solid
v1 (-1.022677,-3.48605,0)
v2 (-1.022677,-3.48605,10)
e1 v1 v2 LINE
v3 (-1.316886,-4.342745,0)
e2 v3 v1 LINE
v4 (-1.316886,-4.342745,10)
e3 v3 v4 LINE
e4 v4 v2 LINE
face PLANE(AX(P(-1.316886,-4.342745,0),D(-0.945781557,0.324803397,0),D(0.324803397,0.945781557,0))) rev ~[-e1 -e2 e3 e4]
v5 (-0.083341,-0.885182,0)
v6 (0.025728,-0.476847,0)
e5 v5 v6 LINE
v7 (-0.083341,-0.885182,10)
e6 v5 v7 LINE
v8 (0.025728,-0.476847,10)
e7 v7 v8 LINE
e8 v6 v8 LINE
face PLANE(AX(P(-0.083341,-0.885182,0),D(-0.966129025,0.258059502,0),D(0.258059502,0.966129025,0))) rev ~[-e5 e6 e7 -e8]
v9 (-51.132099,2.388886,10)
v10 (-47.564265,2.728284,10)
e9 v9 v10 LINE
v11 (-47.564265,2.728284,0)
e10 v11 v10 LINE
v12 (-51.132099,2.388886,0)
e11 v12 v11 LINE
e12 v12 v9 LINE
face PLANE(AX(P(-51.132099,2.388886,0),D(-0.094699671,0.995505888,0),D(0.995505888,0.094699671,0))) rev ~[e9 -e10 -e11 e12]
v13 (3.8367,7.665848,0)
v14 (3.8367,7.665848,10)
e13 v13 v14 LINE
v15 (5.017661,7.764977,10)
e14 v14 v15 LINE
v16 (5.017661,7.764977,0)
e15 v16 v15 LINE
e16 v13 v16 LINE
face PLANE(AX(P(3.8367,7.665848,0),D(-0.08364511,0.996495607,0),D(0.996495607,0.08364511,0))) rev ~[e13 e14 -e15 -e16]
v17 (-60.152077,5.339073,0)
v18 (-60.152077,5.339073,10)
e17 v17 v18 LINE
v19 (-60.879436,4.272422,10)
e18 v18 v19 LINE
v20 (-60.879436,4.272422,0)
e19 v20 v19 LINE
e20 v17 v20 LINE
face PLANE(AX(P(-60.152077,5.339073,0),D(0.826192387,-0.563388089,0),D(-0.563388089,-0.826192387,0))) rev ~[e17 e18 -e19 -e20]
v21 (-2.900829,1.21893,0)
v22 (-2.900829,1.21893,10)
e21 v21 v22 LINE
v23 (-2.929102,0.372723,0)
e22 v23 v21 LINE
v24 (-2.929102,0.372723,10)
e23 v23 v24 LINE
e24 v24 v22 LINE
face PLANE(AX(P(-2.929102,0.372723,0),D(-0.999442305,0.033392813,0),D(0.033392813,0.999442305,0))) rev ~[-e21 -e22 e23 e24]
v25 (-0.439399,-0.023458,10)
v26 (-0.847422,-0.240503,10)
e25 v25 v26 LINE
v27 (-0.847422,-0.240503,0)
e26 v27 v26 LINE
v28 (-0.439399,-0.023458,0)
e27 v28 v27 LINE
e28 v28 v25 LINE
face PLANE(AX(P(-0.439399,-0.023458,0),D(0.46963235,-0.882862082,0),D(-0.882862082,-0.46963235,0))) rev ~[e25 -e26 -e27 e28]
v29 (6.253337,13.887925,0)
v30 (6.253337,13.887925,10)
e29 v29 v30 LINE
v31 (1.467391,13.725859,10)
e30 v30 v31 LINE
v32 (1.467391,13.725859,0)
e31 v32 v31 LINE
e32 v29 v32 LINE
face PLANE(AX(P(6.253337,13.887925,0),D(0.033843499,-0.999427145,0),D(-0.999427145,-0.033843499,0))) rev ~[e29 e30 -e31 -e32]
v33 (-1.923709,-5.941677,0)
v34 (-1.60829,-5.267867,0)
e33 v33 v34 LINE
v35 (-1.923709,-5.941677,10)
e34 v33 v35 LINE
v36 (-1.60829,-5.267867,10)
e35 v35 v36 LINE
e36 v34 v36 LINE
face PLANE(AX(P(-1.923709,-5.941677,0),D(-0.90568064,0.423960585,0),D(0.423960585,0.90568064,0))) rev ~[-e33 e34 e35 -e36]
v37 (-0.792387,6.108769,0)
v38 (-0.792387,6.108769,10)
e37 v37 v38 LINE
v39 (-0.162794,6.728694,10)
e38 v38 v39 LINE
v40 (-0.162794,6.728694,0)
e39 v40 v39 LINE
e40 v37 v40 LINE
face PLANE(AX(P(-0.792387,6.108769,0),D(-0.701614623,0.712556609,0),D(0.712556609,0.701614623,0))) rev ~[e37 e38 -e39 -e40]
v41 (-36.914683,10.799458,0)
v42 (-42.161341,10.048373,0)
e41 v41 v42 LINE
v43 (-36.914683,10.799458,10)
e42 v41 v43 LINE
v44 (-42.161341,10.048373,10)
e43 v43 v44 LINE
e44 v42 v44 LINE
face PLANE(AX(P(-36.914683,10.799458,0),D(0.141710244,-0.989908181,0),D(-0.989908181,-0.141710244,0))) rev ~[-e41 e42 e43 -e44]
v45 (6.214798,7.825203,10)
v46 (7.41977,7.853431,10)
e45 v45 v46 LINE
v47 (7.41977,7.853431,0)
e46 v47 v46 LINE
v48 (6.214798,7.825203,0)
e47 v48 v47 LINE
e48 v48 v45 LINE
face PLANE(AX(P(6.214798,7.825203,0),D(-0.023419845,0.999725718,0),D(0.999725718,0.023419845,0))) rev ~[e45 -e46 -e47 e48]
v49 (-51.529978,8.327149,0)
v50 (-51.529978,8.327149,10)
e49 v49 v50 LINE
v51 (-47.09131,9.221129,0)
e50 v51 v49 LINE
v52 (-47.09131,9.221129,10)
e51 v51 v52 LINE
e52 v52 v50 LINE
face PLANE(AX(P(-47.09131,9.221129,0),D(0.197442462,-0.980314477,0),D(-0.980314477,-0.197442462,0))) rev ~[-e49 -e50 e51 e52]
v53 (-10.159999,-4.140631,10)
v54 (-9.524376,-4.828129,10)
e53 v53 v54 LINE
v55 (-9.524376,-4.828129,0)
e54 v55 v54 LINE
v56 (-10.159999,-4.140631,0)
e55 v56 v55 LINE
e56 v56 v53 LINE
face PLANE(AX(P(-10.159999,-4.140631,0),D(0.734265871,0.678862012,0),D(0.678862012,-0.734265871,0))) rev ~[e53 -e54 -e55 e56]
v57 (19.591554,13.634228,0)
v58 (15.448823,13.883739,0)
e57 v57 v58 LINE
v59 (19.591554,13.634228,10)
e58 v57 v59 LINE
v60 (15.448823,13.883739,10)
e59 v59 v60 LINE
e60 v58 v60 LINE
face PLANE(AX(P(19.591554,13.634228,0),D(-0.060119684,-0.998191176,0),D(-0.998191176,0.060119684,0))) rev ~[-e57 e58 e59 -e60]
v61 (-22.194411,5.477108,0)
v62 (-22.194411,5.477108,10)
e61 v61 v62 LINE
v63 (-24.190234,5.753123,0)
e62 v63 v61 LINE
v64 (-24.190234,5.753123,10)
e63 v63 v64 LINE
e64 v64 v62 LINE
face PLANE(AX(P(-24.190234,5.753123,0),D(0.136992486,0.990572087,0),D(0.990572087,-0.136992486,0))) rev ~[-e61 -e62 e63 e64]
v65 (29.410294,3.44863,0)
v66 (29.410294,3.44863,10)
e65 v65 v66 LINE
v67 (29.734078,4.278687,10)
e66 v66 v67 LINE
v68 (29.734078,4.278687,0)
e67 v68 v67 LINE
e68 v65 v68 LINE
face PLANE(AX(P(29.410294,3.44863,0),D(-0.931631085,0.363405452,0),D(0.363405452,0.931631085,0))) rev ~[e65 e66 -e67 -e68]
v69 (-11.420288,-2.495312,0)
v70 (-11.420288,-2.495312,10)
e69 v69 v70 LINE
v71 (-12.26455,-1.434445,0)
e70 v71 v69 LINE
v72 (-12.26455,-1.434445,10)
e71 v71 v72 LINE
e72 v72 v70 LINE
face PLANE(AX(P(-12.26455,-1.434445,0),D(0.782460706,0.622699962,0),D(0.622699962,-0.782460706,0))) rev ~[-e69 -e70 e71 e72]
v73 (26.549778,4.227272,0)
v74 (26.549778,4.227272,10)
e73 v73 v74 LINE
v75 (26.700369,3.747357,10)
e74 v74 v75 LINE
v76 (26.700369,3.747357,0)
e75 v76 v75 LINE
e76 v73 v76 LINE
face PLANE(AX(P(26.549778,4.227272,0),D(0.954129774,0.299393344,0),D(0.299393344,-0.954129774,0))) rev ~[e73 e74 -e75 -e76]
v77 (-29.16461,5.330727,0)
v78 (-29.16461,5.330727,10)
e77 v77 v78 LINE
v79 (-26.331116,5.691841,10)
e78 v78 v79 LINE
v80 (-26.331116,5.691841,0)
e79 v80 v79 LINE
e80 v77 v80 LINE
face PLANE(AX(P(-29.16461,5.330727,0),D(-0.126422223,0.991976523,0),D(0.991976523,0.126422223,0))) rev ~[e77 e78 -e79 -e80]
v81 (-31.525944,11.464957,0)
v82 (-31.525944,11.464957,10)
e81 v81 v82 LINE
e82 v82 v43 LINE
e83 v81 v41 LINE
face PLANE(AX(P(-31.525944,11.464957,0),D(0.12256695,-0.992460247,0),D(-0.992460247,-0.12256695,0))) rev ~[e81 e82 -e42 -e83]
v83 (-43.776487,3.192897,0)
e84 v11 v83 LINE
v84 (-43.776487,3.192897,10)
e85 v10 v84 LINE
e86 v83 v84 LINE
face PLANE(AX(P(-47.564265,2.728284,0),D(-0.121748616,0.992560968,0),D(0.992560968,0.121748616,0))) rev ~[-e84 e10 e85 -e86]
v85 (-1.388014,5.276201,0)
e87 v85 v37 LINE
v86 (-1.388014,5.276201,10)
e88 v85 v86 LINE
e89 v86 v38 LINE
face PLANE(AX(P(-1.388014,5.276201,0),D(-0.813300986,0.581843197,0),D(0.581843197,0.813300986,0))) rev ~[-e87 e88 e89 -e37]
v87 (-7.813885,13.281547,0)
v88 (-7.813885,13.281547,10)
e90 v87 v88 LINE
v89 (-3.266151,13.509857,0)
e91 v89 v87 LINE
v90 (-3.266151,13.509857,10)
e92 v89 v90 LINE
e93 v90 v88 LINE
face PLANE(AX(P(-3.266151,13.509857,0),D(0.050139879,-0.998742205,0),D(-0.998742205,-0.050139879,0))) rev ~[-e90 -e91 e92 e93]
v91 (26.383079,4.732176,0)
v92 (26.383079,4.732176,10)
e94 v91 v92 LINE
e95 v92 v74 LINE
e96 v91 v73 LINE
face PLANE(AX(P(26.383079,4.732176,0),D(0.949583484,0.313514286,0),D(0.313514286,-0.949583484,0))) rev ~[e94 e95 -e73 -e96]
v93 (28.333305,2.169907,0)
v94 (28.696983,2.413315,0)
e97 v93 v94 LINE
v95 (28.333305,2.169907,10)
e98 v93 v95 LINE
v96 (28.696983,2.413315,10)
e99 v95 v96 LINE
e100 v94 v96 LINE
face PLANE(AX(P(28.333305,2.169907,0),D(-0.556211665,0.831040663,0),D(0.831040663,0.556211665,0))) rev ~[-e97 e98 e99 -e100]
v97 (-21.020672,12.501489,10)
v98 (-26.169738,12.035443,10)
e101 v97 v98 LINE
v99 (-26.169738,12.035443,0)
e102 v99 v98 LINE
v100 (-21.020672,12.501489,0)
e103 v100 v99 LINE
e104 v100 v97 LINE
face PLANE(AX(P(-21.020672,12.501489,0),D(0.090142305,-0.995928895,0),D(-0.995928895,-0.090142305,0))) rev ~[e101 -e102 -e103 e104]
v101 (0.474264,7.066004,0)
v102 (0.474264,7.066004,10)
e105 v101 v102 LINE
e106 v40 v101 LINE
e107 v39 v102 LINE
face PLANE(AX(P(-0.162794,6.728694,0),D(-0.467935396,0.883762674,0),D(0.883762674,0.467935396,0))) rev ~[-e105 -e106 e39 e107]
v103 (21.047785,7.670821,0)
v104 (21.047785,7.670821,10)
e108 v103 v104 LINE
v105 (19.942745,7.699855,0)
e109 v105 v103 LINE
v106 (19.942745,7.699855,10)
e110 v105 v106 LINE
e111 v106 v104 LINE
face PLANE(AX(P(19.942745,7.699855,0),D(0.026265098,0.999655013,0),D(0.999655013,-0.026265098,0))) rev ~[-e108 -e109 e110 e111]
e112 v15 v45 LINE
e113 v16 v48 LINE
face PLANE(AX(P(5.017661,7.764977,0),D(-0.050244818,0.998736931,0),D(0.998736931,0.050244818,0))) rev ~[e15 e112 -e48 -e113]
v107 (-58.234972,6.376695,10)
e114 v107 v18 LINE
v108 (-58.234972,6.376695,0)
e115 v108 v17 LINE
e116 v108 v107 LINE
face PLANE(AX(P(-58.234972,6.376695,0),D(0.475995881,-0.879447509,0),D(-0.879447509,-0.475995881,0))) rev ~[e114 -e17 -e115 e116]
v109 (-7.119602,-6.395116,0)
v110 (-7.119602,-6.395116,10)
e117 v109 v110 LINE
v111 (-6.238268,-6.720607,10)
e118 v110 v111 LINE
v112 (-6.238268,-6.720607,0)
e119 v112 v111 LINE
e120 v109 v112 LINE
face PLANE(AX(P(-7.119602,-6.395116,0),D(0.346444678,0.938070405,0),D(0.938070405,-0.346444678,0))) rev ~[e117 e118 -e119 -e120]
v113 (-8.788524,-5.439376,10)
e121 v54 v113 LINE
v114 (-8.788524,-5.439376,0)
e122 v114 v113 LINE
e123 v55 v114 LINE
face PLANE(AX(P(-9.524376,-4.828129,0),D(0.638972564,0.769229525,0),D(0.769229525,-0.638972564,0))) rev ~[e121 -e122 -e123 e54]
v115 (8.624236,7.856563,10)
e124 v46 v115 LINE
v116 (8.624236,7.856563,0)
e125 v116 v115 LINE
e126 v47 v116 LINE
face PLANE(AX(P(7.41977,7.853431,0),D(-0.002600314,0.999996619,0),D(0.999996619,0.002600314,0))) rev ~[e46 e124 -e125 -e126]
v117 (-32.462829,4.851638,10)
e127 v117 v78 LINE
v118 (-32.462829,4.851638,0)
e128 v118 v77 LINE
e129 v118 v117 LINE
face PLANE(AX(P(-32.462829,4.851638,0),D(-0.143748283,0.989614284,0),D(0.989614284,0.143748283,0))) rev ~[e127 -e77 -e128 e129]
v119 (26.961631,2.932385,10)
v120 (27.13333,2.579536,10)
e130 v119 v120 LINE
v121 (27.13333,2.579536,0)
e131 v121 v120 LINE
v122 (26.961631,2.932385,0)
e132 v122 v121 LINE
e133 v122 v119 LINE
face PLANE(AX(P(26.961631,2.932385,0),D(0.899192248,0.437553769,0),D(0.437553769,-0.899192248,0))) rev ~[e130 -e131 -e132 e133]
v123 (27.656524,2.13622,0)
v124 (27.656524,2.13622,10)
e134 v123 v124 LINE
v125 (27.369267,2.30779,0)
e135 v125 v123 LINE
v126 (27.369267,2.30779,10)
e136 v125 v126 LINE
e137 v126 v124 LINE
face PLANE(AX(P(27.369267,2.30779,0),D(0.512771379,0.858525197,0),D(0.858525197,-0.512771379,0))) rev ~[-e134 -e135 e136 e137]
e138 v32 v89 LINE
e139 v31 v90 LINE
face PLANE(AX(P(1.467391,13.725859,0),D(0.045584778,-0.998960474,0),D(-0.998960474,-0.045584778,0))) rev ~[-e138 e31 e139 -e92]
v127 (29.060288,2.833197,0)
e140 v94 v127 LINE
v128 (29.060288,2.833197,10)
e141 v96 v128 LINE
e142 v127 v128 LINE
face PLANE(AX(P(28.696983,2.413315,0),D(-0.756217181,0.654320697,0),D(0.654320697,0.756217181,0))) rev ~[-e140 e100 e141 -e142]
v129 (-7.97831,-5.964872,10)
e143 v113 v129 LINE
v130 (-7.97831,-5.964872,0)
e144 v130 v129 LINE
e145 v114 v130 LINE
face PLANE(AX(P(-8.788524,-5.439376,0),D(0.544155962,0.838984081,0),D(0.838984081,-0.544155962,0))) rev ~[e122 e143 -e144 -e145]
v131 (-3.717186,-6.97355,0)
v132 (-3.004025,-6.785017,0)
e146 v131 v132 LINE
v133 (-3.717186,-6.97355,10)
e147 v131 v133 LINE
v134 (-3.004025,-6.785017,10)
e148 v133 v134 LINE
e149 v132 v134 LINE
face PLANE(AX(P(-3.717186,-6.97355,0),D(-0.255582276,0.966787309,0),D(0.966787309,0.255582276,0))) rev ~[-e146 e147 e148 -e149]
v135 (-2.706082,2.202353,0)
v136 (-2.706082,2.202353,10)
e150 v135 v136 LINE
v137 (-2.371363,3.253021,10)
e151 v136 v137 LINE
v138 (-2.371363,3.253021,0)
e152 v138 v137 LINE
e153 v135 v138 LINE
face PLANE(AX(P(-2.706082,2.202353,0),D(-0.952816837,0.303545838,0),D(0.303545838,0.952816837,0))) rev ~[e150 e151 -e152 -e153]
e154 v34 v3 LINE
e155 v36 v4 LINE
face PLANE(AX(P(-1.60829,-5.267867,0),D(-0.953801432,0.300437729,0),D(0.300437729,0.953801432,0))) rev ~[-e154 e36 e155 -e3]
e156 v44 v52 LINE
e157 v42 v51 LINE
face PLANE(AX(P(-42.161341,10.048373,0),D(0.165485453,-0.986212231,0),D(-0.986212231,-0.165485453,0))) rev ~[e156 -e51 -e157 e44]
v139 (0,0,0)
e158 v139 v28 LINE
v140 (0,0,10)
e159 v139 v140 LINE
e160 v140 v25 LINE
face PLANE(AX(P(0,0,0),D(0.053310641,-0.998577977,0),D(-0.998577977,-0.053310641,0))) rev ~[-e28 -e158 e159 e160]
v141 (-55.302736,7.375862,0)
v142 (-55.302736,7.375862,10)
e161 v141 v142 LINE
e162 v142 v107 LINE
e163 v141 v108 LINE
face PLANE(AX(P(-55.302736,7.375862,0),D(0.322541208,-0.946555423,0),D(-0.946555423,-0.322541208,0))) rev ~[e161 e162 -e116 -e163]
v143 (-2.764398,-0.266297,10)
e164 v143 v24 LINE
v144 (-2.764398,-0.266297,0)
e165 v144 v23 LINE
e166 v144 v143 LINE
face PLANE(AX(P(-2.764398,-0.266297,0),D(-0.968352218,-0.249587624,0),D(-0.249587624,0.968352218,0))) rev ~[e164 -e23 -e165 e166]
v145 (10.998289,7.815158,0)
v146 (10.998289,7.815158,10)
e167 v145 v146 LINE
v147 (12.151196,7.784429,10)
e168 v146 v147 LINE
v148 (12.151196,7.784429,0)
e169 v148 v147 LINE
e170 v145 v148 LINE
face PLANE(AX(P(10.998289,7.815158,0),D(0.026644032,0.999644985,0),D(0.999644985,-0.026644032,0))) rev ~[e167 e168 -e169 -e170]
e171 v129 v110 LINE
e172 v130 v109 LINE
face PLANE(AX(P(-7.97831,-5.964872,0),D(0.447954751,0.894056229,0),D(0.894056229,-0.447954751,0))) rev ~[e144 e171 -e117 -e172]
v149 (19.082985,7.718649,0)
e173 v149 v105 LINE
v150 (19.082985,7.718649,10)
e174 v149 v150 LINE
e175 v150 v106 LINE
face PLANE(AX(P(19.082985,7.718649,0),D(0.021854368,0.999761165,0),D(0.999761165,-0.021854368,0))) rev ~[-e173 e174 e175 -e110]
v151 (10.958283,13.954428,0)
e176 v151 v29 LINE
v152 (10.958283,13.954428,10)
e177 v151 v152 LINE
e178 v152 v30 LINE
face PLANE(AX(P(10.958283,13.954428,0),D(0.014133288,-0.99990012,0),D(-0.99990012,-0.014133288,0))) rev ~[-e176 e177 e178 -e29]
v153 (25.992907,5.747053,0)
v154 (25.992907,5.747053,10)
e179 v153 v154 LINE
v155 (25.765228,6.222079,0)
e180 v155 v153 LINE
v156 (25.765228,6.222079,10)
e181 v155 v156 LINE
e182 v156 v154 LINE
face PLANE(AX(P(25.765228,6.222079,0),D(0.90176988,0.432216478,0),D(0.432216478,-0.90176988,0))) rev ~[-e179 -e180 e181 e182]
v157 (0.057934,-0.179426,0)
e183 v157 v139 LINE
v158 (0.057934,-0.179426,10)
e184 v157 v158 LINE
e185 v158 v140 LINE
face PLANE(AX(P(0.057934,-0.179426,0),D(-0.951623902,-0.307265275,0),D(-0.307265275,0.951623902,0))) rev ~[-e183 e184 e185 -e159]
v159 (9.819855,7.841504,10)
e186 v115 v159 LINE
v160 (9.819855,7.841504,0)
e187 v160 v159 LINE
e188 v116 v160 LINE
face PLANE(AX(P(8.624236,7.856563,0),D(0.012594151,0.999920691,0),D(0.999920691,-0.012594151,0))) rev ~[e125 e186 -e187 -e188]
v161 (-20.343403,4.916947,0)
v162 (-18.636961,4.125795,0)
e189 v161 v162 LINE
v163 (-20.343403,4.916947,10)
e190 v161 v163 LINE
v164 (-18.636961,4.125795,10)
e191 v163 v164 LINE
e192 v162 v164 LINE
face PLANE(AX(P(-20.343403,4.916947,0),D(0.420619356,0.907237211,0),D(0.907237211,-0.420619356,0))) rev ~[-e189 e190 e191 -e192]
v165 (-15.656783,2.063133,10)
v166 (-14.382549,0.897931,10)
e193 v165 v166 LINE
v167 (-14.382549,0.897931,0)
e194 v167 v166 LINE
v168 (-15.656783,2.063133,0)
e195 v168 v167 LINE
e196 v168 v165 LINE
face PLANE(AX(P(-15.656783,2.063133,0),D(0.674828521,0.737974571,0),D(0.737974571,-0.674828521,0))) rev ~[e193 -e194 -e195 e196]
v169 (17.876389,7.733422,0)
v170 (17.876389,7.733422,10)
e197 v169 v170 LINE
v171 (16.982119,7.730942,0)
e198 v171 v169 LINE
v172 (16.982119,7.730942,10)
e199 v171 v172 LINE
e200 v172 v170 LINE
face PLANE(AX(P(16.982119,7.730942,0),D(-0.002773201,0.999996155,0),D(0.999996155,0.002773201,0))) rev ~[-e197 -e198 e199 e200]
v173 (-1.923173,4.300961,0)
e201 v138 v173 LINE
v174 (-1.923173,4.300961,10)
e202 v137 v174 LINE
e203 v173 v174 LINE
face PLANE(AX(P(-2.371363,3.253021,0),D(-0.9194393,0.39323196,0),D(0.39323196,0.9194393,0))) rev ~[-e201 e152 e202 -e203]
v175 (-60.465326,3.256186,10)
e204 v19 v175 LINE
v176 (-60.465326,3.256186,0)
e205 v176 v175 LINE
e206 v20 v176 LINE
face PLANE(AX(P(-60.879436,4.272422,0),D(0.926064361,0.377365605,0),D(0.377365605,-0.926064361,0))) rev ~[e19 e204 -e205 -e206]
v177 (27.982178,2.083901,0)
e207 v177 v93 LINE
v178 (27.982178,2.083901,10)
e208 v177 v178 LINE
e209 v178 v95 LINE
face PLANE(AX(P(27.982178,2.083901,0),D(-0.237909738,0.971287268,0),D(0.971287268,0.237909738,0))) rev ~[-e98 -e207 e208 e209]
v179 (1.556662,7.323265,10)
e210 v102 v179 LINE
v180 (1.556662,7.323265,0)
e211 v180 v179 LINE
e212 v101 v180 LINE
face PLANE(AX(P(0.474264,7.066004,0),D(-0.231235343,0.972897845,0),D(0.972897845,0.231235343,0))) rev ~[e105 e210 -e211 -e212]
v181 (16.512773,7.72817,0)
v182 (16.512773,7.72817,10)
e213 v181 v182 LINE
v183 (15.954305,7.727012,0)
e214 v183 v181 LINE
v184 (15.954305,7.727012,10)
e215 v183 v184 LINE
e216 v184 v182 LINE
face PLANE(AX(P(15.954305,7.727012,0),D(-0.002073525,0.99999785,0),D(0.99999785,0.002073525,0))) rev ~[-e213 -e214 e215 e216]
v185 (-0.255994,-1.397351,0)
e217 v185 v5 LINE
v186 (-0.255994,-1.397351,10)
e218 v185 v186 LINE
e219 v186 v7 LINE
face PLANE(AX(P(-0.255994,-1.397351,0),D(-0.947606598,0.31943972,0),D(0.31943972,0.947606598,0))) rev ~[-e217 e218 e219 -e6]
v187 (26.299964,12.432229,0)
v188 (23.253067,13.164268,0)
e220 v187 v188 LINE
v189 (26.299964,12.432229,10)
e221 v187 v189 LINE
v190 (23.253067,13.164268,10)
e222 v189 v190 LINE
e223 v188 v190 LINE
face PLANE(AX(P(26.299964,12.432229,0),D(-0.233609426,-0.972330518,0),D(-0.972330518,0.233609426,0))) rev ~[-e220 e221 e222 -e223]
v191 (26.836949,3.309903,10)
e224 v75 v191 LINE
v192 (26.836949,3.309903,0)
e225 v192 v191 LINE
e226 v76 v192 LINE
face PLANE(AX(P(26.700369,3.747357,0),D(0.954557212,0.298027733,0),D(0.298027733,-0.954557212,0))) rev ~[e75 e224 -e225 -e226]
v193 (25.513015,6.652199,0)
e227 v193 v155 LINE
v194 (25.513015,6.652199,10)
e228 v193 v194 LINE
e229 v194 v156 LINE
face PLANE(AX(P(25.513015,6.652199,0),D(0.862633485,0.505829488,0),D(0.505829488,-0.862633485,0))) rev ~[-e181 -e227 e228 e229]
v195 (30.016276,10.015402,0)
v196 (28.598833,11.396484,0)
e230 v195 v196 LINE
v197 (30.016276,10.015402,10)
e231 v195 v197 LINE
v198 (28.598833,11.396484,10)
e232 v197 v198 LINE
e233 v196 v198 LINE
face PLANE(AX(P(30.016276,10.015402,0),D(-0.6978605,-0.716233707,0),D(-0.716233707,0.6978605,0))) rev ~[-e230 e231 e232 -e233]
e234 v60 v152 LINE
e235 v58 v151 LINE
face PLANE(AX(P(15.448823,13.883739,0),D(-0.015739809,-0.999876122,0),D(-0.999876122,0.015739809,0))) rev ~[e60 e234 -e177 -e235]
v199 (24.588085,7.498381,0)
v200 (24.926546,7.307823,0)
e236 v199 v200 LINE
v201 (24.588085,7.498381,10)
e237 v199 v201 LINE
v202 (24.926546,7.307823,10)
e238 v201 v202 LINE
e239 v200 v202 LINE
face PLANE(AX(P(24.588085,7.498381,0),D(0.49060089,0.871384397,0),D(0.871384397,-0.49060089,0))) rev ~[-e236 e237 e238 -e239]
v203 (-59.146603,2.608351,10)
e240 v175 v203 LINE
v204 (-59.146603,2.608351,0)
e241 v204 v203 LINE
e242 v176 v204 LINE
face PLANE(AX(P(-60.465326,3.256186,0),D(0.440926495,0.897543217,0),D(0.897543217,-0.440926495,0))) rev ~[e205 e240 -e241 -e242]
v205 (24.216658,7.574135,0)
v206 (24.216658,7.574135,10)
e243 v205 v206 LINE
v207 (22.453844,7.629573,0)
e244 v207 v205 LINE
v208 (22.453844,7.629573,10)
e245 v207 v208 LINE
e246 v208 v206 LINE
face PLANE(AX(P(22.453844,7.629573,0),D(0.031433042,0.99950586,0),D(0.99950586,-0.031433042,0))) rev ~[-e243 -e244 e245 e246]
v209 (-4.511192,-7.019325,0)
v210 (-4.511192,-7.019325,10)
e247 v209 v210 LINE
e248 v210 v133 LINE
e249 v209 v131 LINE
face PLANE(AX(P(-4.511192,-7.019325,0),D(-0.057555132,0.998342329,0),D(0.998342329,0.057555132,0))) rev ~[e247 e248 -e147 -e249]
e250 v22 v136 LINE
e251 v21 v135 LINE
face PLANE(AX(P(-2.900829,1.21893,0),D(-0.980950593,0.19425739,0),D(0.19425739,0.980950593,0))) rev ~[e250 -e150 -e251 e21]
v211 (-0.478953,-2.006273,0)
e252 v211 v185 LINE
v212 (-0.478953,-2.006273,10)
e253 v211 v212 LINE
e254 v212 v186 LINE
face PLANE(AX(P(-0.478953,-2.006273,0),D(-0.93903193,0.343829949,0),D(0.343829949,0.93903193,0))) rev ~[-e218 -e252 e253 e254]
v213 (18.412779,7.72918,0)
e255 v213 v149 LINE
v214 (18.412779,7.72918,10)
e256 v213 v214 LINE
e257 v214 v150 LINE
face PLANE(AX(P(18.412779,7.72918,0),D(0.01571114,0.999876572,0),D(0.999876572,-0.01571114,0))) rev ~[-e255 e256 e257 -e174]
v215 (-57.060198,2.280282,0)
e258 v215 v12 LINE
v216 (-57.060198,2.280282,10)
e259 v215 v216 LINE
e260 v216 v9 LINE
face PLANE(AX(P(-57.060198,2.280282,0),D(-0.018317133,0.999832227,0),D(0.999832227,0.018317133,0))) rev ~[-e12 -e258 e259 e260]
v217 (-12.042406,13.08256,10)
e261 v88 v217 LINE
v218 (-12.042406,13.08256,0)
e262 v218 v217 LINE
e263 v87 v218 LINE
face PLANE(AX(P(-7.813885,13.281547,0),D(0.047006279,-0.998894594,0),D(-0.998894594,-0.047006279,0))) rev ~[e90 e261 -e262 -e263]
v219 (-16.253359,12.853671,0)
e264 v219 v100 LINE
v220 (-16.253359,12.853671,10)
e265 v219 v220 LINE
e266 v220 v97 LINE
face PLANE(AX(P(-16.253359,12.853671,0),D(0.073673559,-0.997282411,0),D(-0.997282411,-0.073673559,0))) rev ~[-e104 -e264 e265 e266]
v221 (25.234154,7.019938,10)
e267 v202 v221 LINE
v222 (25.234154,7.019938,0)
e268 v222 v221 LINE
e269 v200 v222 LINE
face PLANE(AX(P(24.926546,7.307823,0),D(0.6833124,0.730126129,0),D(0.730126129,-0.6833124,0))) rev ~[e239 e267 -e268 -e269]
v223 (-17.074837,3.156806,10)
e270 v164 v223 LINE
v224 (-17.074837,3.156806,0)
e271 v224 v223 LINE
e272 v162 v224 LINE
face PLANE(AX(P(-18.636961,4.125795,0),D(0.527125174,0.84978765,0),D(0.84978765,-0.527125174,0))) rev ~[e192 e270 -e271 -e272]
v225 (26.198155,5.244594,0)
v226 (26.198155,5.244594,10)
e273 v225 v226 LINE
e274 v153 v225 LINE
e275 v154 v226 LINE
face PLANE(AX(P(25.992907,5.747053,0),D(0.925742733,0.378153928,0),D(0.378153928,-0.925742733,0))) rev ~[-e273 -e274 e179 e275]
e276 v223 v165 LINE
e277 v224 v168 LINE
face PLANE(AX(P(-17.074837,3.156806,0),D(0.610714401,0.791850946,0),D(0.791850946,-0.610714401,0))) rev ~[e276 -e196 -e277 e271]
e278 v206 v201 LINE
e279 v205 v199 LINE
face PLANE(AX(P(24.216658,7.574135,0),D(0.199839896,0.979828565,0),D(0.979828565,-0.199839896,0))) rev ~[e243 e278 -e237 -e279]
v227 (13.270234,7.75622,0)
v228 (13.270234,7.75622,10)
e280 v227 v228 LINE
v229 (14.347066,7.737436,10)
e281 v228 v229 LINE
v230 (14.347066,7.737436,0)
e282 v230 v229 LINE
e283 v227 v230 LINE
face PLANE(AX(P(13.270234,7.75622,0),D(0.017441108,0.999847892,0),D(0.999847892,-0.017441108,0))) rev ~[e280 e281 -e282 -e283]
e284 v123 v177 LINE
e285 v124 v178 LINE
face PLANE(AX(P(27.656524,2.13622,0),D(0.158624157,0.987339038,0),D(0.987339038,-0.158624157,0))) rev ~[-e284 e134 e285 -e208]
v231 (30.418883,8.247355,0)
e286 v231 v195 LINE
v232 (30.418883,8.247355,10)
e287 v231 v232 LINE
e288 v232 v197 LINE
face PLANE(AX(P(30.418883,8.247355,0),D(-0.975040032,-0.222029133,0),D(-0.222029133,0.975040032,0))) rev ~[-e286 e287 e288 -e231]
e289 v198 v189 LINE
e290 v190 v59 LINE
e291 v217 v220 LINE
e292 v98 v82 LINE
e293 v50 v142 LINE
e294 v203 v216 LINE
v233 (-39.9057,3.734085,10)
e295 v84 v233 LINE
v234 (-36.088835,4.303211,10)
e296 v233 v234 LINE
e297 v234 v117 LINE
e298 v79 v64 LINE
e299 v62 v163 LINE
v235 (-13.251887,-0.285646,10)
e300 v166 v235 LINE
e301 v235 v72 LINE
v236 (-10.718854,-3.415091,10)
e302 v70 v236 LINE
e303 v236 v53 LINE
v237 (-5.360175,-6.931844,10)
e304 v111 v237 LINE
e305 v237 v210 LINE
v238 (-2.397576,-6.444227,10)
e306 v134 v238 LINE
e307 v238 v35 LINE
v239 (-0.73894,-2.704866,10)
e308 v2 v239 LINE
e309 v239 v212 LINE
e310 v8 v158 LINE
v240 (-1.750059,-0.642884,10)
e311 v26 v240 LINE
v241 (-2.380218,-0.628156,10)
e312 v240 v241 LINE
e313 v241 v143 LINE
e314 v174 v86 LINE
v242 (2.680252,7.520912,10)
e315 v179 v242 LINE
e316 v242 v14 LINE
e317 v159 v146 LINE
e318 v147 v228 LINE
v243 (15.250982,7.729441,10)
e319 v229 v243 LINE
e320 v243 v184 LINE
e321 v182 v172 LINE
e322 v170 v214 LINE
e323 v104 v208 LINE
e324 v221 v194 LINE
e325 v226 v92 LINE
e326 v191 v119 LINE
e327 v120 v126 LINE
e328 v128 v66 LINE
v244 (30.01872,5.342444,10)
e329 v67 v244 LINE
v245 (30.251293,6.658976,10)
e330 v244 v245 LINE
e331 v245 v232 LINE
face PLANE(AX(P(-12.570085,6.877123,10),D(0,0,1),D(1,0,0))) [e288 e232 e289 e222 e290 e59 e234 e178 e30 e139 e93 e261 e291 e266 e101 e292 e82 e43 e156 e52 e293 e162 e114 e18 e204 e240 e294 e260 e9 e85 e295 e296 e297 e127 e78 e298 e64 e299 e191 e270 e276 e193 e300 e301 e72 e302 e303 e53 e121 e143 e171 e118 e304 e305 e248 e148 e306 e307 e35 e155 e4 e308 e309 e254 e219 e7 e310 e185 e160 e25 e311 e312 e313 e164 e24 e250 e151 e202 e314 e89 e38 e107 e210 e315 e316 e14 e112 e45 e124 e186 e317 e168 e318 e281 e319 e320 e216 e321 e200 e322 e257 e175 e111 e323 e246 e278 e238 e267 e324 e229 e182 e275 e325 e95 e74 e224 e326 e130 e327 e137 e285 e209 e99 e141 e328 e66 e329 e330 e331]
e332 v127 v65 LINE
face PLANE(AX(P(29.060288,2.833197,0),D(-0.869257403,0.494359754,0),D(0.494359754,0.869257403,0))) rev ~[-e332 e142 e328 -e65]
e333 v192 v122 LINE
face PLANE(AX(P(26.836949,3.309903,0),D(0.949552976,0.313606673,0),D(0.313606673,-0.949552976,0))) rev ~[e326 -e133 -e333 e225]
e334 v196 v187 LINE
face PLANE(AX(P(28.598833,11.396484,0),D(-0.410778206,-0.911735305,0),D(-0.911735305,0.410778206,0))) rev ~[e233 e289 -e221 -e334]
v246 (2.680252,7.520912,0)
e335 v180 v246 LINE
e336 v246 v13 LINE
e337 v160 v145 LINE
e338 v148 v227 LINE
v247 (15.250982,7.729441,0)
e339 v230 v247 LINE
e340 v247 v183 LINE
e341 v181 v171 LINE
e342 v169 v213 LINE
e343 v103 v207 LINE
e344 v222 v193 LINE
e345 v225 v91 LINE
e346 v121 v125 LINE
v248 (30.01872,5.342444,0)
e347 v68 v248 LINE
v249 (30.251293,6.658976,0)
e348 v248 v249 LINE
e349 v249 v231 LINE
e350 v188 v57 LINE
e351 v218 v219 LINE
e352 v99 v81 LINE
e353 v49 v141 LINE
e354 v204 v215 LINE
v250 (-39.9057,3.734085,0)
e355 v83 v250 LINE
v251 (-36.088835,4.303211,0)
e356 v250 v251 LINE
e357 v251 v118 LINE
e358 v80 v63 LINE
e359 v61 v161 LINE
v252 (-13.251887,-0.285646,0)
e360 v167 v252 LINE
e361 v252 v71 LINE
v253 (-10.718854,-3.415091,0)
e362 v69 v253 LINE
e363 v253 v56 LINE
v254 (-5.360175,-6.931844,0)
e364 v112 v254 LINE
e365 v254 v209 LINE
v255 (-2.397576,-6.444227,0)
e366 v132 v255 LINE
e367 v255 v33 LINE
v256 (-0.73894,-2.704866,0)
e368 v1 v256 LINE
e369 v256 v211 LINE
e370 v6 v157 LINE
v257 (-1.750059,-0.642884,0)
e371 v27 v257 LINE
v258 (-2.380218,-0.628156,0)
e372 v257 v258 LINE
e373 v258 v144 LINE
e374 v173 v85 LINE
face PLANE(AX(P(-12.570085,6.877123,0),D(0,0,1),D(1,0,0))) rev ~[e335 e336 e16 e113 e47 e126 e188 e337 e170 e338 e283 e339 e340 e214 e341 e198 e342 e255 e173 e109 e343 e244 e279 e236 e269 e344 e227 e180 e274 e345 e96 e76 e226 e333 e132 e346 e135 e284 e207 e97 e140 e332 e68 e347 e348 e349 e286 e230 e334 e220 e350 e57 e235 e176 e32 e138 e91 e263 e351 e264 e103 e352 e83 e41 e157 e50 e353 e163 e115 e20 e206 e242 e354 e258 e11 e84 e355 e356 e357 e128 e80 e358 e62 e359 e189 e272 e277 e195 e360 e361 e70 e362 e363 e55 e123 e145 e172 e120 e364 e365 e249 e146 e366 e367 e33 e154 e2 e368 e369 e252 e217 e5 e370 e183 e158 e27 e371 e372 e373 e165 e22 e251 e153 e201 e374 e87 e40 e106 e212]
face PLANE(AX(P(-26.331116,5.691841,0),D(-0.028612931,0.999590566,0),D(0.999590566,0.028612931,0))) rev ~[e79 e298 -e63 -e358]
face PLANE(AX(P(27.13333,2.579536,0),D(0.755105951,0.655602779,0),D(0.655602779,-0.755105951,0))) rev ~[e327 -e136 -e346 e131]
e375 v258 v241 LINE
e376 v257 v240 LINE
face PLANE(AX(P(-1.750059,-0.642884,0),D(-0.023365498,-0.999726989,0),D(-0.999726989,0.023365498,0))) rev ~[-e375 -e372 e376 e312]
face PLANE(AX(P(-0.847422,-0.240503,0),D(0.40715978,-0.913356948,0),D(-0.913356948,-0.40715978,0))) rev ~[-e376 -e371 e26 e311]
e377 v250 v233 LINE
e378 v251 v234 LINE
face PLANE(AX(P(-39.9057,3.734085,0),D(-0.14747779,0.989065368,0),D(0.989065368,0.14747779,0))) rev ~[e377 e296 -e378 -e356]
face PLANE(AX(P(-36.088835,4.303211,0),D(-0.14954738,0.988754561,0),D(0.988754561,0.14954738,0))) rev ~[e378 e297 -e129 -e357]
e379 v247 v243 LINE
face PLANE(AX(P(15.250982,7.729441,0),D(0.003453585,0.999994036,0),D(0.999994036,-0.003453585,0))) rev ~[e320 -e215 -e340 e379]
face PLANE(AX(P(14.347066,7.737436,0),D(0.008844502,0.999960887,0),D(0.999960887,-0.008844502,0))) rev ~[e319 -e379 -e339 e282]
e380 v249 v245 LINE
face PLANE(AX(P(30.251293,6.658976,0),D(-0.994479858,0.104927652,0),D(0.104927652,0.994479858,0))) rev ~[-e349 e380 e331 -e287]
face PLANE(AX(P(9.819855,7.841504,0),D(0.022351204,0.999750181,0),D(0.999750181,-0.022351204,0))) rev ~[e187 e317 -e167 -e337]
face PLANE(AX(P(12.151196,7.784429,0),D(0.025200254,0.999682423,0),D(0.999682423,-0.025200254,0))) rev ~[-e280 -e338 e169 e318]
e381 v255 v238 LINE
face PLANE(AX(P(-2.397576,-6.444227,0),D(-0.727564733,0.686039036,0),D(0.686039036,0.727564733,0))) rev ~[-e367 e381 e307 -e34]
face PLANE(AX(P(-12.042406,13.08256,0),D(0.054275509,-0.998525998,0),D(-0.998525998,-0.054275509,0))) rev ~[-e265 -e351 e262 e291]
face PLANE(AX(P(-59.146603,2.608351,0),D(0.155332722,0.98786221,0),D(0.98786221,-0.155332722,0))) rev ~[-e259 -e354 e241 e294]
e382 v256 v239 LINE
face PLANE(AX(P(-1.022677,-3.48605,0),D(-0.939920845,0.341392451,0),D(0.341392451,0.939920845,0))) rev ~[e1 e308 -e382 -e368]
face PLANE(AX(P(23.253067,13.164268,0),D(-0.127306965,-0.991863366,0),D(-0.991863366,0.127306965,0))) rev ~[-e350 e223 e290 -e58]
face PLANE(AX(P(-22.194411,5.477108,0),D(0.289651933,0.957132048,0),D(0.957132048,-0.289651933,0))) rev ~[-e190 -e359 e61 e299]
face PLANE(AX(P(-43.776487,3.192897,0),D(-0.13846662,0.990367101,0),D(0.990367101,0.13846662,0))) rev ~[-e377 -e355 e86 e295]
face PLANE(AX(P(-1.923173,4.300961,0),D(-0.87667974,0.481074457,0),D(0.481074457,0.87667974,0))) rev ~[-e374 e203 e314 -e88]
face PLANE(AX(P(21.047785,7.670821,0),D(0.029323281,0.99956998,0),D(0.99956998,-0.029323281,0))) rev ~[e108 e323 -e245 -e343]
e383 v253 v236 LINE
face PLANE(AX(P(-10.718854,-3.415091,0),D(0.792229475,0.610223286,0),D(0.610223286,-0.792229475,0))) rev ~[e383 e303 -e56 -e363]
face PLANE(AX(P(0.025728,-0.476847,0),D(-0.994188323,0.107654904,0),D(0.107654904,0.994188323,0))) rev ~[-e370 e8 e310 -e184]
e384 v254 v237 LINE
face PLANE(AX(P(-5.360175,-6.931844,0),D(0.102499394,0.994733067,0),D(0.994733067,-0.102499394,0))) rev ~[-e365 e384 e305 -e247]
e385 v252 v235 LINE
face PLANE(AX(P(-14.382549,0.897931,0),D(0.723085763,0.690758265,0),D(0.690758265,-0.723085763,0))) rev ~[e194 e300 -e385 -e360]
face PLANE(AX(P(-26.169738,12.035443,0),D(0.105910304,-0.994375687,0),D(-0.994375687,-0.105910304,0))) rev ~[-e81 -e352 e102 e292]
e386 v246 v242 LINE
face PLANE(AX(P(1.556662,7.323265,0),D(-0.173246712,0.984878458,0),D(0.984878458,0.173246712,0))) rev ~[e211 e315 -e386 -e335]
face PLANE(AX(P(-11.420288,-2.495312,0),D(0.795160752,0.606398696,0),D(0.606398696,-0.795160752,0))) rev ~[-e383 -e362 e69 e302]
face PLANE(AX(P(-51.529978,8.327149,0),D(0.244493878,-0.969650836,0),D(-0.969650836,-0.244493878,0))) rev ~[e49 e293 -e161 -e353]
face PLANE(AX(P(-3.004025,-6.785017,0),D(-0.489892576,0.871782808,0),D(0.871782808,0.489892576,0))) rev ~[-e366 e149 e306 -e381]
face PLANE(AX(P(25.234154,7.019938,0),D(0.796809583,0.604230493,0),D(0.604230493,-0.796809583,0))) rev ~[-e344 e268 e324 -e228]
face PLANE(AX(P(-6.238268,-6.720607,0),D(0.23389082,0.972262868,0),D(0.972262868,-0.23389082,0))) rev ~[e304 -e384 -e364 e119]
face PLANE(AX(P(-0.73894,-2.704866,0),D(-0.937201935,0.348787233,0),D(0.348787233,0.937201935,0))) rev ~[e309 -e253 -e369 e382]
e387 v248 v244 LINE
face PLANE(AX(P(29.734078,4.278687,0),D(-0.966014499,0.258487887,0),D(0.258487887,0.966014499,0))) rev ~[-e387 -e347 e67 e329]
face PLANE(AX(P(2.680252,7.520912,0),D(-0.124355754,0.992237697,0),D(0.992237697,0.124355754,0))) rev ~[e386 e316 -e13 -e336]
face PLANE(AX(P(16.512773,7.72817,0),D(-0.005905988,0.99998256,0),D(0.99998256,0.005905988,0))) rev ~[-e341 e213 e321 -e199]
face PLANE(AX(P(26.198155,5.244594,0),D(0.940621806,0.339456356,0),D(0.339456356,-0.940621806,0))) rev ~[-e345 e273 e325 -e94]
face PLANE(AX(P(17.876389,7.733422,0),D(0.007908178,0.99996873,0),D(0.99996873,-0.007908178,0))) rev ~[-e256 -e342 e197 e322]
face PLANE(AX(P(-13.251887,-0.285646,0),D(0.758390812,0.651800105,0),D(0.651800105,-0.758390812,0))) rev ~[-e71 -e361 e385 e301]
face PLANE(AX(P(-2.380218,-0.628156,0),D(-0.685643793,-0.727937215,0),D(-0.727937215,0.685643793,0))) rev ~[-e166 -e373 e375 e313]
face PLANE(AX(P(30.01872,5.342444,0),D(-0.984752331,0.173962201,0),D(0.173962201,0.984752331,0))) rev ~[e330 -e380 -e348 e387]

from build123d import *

# Parameters (mm, degrees)
F1_DEPTH = 10


with BuildPart() as f1:
    # F0 (on Top) → F1 (new body)
    with BuildSketch(Plane.XY):
        Polygon((-55.302736, 7.375862), (-58.234972, 6.376695), (-60.152077, 5.339073), (-60.879436, 4.272422), (-60.465326, 3.256186), (-59.146603, 2.608351), (-57.060198, 2.280282), (-51.132099, 2.388886), (-47.564265, 2.728284), (-43.776487, 3.192897), (-39.9057, 3.734085), (-36.088835, 4.303211), (-32.462829, 4.851638), (-29.16461, 5.330727), (-26.331116, 5.691841), (-24.190234, 5.753123), (-22.194411, 5.477108), (-20.343403, 4.916947), (-18.636961, 4.125795), (-17.074837, 3.156806), (-15.656783, 2.063133), (-14.382549, 0.897931), (-13.251887, -0.285646), (-12.26455, -1.434445), (-11.420288, -2.495312), (-10.718854, -3.415091), (-10.159999, -4.140631), (-9.524376, -4.828129), (-8.788524, -5.439376), (-7.97831, -5.964872), (-7.119602, -6.395116), (-6.238268, -6.720607), (-5.360175, -6.931844), (-4.511192, -7.019325), (-3.717186, -6.97355), (-3.004025, -6.785017), (-2.397576, -6.444227), (-1.923709, -5.941677), (-1.60829, -5.267867), (-1.316886, -4.342745), (-1.022677, -3.48605), (-0.73894, -2.704866), (-0.478953, -2.006273), (-0.255994, -1.397351), (-0.083341, -0.885182), (0.025728, -0.476847), (0.057934, -0.179426), (0, 0), (-0.439399, -0.023458), (-0.847422, -0.240503), (-1.750059, -0.642884), (-2.380218, -0.628156), (-2.764398, -0.266297), (-2.929102, 0.372723), (-2.900829, 1.21893), (-2.706082, 2.202353), (-2.371363, 3.253021), (-1.923173, 4.300961), (-1.388014, 5.276201), (-0.792387, 6.108769), (-0.162794, 6.728694), (0.474264, 7.066004), (1.556662, 7.323265), (2.680252, 7.520912), (3.8367, 7.665848), (5.017661, 7.764977), (6.214798, 7.825203), (7.41977, 7.853431), (8.624236, 7.856563), (9.819855, 7.841504), (10.998289, 7.815158), (12.151196, 7.784429), (13.270234, 7.75622), (14.347066, 7.737436), (15.250982, 7.729441), (15.954305, 7.727012), (16.512773, 7.72817), (16.982119, 7.730942), (17.876389, 7.733422), (18.412779, 7.72918), (19.082985, 7.718649), (19.942745, 7.699855), (21.047785, 7.670821), (22.453844, 7.629573), (24.216658, 7.574135), (24.588085, 7.498381), (24.926546, 7.307823), (25.234154, 7.019938), (25.513015, 6.652199), (25.765228, 6.222079), (25.992907, 5.747053), (26.198155, 5.244594), (26.383079, 4.732176), (26.549778, 4.227272), (26.700369, 3.747357), (26.836949, 3.309903), (26.961631, 2.932385), (27.13333, 2.579536), (27.369267, 2.30779), (27.656524, 2.13622), (27.982178, 2.083901), (28.333305, 2.169907), (28.696983, 2.413315), (29.060288, 2.833197), (29.410294, 3.44863), (29.734078, 4.278687), (30.01872, 5.342444), (30.251293, 6.658976), (30.418883, 8.247355), (30.016276, 10.015402), (28.598833, 11.396484), (26.299964, 12.432229), (23.253067, 13.164268), (19.591554, 13.634228), (15.448823, 13.883739), (10.958283, 13.954428), (6.253337, 13.887925), (1.467391, 13.725859), (-3.266151, 13.509857), (-7.813885, 13.281547), (-12.042406, 13.08256), (-16.253359, 12.853671), (-21.020672, 12.501489), (-26.169738, 12.035443), (-31.525944, 11.464957), (-36.914683, 10.799458), (-42.161341, 10.048373), (-47.09131, 9.221129), (-51.529978, 8.327149), align=None)
    extrude(amount=F1_DEPTH)


solid = f1.part
